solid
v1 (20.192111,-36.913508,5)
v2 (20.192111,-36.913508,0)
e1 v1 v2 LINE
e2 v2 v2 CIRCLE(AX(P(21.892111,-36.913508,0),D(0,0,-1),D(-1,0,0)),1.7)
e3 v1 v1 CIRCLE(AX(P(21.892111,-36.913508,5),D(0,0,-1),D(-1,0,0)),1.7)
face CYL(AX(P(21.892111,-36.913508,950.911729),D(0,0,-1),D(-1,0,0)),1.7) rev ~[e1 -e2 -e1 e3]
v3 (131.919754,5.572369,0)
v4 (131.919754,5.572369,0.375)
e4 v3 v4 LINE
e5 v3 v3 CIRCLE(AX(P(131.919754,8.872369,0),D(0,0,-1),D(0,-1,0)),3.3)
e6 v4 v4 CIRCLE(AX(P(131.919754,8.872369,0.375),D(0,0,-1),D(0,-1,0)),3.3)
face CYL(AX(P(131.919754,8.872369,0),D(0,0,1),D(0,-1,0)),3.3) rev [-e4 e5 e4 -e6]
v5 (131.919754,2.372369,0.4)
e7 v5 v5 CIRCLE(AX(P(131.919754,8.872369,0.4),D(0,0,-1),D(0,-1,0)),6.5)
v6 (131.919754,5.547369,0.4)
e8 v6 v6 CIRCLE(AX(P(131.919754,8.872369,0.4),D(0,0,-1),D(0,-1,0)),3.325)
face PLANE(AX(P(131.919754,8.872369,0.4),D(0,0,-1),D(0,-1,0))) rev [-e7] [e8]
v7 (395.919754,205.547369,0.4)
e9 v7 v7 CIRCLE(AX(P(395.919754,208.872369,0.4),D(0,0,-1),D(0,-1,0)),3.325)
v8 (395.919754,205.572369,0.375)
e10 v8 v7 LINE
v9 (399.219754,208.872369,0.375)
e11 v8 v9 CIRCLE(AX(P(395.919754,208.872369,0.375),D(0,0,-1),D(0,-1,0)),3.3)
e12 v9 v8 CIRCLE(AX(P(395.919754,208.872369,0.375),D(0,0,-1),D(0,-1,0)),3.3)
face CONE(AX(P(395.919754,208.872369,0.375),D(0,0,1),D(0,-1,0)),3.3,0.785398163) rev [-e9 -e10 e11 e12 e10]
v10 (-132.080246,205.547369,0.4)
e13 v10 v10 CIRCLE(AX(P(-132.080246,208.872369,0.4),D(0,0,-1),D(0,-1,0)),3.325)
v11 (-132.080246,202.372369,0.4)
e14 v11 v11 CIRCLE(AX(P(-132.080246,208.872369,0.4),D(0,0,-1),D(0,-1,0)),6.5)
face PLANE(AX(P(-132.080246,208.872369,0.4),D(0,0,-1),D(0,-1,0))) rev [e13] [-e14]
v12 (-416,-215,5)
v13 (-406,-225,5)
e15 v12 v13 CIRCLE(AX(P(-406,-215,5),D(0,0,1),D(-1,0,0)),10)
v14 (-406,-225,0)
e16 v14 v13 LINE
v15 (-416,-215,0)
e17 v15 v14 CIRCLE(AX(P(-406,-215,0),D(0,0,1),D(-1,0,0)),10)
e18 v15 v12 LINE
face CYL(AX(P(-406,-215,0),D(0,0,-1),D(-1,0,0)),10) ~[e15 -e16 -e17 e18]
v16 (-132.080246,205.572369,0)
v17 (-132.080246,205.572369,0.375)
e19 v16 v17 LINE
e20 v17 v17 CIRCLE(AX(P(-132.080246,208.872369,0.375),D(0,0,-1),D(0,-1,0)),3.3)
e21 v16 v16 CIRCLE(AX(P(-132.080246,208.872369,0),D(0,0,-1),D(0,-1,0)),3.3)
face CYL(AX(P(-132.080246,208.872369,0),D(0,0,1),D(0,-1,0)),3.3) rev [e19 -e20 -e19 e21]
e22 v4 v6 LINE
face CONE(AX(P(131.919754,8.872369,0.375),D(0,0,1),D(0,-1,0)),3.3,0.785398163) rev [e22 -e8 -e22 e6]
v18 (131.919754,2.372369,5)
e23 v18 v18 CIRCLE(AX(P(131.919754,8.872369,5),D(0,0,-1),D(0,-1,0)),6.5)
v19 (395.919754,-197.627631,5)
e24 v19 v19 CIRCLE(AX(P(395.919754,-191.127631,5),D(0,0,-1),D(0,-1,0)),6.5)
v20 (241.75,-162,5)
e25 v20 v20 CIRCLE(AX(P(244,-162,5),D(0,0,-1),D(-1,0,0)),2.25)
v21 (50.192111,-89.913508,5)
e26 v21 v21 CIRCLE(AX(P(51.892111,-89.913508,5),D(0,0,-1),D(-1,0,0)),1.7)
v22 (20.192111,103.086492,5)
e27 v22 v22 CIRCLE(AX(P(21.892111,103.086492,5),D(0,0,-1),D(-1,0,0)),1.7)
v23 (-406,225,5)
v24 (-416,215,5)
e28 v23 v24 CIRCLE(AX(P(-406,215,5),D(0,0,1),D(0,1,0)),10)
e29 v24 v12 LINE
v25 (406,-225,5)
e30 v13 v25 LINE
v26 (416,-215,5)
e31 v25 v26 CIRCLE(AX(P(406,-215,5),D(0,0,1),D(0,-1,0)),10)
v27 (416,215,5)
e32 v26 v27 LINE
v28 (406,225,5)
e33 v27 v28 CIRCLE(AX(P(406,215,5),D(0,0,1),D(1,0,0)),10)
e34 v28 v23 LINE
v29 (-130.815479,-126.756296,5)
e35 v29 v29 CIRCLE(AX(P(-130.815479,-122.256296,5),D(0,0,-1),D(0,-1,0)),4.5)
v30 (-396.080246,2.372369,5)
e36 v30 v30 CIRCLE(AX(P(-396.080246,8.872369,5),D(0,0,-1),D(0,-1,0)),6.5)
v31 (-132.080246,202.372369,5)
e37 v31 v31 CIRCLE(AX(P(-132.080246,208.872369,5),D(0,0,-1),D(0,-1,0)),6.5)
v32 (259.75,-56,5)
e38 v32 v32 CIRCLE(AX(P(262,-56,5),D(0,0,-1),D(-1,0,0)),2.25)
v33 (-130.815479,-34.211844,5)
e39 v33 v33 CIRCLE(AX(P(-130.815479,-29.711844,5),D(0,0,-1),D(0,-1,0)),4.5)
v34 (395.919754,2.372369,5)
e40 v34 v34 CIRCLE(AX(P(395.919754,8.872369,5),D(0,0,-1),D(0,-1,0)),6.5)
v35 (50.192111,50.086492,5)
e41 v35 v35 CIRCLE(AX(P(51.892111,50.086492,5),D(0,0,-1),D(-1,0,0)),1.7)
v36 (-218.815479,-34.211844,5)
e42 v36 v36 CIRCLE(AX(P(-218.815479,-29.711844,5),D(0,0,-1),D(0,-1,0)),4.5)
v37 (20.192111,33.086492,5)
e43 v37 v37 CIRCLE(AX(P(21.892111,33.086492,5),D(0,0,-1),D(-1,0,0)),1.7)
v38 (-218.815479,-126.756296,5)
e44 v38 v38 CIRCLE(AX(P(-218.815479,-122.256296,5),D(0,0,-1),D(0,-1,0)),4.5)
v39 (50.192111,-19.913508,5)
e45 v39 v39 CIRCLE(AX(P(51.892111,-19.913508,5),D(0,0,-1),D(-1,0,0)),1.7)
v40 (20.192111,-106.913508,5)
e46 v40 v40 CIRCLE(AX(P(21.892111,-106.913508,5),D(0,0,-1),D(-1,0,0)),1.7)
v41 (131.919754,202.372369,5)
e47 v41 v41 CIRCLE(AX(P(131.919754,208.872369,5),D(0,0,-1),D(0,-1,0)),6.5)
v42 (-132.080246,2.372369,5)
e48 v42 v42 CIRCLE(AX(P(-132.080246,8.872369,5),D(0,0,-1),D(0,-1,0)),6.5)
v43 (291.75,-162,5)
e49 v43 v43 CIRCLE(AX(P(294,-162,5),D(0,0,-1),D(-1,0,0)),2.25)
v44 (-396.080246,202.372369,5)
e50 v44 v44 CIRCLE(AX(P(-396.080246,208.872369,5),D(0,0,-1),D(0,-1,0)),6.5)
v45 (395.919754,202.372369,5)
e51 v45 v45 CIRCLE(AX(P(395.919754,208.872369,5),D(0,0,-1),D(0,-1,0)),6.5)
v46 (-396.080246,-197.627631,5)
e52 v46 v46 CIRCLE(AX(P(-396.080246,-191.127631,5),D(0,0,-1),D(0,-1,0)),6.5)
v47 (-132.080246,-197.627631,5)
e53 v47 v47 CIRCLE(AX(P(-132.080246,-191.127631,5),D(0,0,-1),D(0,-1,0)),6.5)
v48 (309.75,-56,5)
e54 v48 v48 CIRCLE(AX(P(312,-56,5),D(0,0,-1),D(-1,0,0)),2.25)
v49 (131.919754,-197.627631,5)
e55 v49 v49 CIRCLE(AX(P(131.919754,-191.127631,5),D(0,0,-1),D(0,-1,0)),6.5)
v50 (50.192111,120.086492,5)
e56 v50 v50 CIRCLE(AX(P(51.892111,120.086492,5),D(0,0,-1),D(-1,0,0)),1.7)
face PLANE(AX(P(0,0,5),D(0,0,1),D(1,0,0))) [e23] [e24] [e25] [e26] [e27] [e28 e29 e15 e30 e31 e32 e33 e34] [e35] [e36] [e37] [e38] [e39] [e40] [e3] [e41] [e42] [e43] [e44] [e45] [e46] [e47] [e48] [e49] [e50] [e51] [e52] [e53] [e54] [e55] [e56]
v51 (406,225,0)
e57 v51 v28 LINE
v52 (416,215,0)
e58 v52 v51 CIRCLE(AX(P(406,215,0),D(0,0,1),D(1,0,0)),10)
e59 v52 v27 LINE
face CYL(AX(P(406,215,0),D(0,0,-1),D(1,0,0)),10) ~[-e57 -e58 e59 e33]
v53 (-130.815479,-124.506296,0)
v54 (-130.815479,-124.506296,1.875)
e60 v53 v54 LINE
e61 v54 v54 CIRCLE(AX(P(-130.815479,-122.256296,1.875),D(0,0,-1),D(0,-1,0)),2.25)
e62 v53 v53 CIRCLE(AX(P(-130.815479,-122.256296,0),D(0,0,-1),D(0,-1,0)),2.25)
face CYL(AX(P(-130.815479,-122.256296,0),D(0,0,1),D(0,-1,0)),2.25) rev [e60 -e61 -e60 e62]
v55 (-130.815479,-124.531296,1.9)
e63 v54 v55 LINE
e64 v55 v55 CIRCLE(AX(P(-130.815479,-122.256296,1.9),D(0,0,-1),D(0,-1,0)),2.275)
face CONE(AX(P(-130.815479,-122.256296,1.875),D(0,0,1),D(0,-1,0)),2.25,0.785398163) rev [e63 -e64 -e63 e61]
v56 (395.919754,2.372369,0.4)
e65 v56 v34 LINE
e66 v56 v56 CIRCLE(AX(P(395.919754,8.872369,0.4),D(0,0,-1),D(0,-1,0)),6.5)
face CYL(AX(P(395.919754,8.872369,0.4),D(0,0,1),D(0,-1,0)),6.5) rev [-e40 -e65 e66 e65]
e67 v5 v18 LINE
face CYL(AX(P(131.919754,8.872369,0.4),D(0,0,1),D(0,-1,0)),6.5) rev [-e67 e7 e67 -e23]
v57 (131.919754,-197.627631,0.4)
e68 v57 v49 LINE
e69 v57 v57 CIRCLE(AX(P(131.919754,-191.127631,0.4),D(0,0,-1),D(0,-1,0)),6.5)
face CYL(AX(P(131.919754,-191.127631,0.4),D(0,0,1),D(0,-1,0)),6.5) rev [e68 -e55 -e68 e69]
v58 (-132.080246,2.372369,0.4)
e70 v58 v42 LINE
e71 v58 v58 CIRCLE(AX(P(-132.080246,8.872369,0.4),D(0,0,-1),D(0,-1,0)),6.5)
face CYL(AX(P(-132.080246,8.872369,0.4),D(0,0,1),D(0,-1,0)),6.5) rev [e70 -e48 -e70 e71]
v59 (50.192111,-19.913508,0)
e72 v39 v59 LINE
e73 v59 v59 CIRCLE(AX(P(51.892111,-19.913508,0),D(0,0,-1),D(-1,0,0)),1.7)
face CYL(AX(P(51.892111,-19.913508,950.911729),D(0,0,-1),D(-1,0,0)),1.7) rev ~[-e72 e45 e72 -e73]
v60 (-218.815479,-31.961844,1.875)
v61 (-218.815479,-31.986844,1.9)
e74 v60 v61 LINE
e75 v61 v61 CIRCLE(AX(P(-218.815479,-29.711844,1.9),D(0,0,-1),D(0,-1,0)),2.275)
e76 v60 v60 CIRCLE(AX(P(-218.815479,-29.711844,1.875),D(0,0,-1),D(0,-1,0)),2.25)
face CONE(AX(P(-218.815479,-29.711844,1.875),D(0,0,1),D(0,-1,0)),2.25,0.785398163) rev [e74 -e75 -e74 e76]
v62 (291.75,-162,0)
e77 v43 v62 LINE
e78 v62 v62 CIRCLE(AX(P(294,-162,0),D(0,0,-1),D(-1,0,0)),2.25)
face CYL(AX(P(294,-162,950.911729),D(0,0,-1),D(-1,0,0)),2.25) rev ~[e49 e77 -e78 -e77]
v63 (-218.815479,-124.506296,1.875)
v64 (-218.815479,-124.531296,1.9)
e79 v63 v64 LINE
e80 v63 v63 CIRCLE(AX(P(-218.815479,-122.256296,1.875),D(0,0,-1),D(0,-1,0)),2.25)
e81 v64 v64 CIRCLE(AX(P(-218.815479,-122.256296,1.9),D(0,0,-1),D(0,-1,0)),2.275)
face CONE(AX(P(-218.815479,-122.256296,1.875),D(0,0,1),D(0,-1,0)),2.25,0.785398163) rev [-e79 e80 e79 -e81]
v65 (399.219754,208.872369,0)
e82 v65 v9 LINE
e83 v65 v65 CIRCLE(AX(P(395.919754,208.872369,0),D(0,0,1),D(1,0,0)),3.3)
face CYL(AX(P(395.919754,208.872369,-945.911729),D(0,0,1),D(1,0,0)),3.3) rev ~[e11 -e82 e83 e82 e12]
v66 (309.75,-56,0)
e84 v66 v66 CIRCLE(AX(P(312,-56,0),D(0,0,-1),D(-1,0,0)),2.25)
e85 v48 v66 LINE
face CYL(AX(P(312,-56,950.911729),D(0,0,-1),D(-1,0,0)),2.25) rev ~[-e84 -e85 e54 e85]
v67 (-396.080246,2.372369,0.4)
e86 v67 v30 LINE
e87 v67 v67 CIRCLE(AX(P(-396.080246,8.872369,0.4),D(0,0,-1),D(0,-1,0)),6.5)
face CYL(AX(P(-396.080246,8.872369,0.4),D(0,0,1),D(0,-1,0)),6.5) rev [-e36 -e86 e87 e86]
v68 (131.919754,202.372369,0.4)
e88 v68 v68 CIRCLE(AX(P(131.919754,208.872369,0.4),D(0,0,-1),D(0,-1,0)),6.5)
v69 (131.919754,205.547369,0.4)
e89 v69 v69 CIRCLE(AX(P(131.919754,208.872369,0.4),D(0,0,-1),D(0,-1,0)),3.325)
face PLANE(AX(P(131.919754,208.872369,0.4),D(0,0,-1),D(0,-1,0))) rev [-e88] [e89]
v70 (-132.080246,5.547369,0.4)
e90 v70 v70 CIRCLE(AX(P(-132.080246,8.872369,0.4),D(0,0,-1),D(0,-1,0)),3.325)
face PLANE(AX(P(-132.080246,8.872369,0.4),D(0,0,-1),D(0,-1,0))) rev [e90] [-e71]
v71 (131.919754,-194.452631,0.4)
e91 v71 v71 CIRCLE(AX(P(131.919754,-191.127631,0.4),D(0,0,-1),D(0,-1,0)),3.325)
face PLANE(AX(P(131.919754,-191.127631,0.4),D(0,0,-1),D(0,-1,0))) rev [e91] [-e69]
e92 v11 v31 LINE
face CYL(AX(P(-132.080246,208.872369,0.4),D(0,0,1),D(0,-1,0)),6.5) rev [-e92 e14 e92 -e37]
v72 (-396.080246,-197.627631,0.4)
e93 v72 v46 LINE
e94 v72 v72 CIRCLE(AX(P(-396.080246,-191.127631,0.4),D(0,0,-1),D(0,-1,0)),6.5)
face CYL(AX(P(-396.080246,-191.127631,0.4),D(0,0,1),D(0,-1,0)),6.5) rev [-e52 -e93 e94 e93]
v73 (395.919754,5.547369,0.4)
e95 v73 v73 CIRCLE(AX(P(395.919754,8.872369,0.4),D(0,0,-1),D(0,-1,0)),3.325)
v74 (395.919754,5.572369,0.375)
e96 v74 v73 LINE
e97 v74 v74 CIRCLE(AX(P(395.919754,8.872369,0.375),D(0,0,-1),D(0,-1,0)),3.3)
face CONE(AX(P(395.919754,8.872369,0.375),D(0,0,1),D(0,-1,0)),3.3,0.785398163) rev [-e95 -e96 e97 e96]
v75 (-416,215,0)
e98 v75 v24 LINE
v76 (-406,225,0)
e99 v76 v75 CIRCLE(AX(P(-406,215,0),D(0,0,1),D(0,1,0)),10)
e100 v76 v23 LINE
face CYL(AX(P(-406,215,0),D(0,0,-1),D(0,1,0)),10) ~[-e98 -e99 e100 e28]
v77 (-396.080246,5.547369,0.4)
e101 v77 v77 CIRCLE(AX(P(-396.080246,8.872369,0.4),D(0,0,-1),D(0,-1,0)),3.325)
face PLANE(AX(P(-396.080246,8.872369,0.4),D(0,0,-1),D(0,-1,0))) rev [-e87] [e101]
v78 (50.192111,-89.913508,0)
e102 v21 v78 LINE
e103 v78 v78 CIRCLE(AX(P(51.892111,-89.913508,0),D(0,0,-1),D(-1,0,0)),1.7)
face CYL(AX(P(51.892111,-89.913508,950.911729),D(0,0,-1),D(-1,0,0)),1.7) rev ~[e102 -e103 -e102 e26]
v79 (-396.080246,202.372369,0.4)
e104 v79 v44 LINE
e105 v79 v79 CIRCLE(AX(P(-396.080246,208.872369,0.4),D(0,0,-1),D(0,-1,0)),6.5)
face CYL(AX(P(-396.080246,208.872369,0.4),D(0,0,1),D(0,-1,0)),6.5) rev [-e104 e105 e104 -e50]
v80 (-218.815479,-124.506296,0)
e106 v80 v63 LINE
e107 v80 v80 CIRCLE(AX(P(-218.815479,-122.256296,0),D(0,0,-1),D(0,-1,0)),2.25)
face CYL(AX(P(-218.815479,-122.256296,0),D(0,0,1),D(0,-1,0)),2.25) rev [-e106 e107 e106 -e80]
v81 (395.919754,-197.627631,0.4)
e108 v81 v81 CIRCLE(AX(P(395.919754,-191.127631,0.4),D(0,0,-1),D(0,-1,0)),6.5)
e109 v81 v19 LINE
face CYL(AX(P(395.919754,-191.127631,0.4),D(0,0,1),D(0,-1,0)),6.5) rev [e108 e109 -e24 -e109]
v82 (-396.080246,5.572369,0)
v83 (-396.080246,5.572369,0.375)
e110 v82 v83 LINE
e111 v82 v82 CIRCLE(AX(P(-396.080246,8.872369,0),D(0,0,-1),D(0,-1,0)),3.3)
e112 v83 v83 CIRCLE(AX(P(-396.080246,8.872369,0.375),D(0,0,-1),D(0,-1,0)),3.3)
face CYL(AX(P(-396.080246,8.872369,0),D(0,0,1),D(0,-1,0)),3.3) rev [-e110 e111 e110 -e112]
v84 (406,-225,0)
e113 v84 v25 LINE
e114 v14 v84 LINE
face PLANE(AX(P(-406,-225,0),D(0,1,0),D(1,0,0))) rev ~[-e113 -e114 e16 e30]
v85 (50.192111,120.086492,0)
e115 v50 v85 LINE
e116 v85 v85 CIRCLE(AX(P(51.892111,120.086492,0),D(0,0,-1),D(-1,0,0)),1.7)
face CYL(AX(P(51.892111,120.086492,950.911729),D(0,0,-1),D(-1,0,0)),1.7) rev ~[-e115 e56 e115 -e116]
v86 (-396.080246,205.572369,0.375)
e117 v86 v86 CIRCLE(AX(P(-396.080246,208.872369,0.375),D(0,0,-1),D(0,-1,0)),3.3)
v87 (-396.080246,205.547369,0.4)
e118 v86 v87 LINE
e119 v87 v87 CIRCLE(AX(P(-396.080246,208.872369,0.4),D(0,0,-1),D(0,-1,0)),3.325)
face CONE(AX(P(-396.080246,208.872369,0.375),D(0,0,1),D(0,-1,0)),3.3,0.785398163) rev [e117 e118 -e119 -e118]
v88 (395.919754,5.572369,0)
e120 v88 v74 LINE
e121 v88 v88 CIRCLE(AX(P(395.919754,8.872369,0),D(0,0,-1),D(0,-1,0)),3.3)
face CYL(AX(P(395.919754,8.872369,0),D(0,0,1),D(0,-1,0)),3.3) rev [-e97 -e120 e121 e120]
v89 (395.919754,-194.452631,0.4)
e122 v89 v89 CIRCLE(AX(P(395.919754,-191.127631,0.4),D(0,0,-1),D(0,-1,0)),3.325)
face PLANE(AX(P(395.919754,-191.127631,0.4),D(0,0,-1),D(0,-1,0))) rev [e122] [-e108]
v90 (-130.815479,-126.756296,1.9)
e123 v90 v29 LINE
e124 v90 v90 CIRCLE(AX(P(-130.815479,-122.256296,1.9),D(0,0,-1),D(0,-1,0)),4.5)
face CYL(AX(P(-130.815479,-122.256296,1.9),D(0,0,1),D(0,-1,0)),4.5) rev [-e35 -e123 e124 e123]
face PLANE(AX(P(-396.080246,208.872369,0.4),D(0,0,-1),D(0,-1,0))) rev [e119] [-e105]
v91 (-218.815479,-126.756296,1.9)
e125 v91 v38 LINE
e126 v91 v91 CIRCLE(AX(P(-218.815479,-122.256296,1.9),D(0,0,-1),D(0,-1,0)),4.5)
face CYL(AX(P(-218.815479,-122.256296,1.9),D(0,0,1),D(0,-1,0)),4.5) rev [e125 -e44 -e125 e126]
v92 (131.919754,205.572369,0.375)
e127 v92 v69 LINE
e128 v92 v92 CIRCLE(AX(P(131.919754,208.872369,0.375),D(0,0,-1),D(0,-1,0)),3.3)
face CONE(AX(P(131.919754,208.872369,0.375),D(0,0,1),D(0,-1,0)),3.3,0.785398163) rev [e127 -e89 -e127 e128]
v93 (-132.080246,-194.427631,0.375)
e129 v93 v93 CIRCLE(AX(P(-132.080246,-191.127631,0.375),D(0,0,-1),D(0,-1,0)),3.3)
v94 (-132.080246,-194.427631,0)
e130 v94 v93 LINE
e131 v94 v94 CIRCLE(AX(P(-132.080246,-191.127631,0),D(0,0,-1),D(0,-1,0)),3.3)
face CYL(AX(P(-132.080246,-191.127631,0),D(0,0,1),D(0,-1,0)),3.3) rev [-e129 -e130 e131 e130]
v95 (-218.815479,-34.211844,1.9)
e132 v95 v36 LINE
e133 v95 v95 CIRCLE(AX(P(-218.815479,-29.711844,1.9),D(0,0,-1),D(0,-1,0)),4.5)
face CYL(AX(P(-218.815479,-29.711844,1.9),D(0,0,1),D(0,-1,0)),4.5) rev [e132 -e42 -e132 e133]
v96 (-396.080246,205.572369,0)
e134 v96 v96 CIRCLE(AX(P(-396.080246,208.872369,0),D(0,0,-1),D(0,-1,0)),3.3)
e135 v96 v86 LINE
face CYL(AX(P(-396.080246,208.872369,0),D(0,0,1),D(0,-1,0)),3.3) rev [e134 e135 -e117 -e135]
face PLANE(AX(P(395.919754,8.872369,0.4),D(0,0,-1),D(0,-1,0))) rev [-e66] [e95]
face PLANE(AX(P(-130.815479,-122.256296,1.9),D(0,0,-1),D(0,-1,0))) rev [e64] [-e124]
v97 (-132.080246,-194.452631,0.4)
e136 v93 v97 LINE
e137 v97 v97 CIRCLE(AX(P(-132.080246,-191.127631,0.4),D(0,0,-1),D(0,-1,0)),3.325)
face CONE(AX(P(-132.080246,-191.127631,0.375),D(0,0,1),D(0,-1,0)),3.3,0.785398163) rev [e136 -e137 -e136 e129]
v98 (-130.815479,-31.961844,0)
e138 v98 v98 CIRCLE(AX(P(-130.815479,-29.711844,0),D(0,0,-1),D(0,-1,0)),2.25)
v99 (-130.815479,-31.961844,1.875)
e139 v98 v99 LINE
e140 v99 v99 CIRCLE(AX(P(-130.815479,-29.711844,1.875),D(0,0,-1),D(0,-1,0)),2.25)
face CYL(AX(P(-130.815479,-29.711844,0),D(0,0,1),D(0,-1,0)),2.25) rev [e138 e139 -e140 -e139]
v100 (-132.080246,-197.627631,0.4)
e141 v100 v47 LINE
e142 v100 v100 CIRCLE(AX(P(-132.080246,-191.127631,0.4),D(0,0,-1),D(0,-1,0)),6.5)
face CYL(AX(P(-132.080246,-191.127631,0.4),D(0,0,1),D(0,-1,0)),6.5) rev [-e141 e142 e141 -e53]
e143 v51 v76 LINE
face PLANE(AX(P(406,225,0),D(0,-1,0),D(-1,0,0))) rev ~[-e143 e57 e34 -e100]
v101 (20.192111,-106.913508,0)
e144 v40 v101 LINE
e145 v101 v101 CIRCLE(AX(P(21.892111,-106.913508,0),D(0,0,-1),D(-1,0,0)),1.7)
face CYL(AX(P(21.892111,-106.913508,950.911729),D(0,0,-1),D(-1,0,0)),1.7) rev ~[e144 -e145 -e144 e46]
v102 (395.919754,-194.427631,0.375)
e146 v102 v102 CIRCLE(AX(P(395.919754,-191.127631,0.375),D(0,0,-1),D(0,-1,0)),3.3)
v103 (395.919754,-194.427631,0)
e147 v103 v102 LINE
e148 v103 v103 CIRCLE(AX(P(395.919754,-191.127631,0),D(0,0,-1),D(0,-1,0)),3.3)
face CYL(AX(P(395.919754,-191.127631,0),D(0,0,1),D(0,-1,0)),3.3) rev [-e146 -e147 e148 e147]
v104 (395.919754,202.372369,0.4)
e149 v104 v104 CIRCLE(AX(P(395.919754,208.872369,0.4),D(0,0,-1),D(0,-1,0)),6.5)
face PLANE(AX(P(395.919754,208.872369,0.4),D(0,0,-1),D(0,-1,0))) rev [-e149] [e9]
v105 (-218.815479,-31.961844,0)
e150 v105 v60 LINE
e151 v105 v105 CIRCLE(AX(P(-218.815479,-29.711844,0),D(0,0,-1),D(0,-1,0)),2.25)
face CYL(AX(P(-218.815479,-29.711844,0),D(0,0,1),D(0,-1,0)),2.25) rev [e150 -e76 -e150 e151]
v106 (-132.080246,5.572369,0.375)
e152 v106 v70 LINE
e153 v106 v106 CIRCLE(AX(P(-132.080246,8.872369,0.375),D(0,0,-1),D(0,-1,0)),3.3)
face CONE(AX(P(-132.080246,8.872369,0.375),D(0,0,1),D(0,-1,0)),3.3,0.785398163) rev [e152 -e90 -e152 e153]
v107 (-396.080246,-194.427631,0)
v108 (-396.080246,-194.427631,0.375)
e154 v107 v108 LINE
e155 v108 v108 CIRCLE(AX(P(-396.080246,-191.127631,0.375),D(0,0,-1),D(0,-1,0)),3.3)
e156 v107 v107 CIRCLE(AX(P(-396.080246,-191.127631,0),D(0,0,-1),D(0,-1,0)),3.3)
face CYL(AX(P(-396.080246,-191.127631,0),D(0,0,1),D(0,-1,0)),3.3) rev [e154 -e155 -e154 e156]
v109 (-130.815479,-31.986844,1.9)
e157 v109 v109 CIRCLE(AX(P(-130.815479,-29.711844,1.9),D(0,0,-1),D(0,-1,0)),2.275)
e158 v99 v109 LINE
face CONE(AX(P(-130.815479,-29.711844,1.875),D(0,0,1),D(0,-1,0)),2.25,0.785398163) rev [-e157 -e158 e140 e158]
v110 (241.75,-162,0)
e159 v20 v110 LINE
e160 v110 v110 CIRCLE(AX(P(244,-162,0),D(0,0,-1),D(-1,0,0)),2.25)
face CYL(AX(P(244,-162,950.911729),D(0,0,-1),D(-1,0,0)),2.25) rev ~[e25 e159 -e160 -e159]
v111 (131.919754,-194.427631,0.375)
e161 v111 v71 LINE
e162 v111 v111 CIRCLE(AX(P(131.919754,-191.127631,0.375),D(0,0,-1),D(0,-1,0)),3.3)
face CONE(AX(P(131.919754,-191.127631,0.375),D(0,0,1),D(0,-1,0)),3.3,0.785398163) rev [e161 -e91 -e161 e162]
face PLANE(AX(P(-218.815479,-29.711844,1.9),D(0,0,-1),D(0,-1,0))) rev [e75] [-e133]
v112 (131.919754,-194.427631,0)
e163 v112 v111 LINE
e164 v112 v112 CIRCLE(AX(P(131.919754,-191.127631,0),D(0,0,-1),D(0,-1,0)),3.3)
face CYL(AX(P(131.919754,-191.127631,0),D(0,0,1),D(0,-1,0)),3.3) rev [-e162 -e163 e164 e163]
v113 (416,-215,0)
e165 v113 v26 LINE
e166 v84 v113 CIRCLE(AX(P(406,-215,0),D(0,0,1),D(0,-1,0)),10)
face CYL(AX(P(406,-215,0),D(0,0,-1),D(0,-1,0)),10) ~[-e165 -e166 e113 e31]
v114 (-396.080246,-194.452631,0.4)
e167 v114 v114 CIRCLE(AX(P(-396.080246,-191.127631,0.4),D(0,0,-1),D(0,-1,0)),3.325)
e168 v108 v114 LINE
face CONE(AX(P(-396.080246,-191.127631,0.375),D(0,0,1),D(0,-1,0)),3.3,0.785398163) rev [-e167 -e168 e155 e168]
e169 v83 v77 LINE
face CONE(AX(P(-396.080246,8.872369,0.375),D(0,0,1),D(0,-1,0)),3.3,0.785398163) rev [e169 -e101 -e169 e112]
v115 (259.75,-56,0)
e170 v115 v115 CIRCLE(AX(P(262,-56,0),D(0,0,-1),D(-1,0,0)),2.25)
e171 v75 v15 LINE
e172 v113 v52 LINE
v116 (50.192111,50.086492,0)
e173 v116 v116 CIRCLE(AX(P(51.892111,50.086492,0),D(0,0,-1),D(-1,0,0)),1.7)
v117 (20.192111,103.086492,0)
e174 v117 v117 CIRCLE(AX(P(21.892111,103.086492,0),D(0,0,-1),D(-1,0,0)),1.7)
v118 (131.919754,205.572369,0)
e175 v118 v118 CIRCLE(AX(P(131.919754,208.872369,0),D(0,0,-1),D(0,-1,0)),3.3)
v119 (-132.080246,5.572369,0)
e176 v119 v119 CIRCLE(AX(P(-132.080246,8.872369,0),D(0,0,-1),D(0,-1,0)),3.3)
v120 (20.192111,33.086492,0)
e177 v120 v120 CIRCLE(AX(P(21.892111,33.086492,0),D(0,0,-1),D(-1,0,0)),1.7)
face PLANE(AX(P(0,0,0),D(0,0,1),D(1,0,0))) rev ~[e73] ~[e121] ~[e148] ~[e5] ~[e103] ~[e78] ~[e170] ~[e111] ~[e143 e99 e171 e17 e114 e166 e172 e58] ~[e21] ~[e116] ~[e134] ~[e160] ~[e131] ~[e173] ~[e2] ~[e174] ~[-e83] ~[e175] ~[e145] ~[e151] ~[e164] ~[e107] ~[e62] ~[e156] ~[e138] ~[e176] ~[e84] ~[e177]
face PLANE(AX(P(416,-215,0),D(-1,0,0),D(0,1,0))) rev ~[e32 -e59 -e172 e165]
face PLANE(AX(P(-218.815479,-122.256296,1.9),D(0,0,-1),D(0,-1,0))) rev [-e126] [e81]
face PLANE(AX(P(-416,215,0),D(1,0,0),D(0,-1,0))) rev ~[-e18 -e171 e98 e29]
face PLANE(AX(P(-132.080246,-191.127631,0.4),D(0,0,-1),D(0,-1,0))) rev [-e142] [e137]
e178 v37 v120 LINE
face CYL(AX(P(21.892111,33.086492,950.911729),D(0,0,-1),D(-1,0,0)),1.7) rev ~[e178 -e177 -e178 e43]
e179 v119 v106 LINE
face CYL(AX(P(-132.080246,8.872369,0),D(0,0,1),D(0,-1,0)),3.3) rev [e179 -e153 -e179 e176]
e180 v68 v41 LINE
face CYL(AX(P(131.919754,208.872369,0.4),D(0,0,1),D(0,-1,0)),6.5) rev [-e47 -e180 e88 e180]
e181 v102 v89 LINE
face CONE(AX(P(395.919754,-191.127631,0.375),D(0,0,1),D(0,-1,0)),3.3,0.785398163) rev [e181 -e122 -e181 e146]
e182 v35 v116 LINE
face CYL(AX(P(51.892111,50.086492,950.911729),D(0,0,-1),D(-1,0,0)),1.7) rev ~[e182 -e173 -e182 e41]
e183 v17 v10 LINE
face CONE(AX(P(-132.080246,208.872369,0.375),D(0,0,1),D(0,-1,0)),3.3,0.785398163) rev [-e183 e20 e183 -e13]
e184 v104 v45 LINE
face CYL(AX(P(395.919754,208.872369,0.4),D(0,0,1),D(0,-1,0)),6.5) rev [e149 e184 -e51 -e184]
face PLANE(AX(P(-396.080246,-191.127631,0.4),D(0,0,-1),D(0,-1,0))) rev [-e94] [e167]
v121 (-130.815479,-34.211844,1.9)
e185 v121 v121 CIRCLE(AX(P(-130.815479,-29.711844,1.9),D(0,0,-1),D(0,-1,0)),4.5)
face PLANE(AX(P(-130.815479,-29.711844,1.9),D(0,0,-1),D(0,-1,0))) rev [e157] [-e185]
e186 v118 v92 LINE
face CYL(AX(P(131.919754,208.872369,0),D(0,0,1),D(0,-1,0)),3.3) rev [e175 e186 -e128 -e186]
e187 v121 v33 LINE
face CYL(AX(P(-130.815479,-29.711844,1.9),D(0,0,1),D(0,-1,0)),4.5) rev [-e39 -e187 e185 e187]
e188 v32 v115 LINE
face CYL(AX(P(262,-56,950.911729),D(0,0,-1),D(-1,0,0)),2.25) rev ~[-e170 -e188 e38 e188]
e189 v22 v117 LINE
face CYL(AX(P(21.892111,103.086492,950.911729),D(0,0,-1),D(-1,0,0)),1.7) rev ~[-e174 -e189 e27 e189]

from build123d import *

# Parameters (mm, degrees)
BOSS_EXTRU_1_DEPTH                           = 5
D_GAGEMENT_M61_D                             = 6.6
R_P_TITION_LIN_AIRE1_COUNT                   = 5
R_P_TITION_LIN_AIRE1_PITCH                   = 100
R_P_TITION_LIN_AIRE1_COUNT_DIR2              = 4
R_P_TITION_LIN_AIRE1_PITCH_DIR2              = 264
CHAMBRAGE_POUR_VIS_T_TE_RONDE_BOMB_2_A_COUNT = 2
CHAMBRAGE_POUR_VIS_T_TE_RONDE_BOMB_2_A_PITCH = 92.544451502
R_P_TITION_LIN_AIRE3_COUNT                   = 2
R_P_TITION_LIN_AIRE3_PITCH                   = 88
M3_CLEARANCE_HOLE1_D                         = 3.4
LPATTERN1_COUNT                              = 4
LPATTERN1_PITCH                              = 70
M4_CLEARANCE_HOLE1_D                         = 4.5


with BuildPart() as part:
    # Esquisse1 → Boss.-Extru.1 (new body)
    with BuildSketch(Plane.XY):
        with BuildLine():
            Line((-406, -225), (406, -225))
            ThreePointArc((406, -225), (413.071067812, -222.071067812), (416, -215))
            Line((416, -215), (416, 215))
            ThreePointArc((416, 215), (413.071067812, 222.071067812), (406, 225))
            Line((406, 225), (-406, 225))
            ThreePointArc((-406, 225), (-413.071067812, 222.071067812), (-416, 215))
            Line((-416, 215), (-416, -215))
            ThreePointArc((-416, -215), (-413.071067812, -222.071067812), (-406, -225))
        make_face()
    extrude(amount=BOSS_EXTRU_1_DEPTH)

    # Dégagement M61 (through all)
    with Locations(Plane(origin=(0, 0, 0), x_dir=(-1, 0, 0), z_dir=(0, 0, -1))):
        with Locations((-395.919753935, 208.872368656)):
            Hole(D_GAGEMENT_M61_D / 2)

    # Esquisse4 → Chambrage pour vis _ t_te ronde bomb_e M (revolve, cut)
    with BuildSketch(Plane(origin=(395.919753935, 208.872368656, 5), x_dir=(0, -1, 0), z_dir=(1, 0, 0))):
        Polygon((0, 0), (0, 5), (3.3, 5), (3.3, 4.625), (3.325, 4.6), (6.5, 4.6), (6.5, 0), align=None)
    chambrage_pour_vis_t_te_ronde_bomb_e_m = revolve(axis=Axis((395.919753935, 208.872368656, 11.35), (0, 0, -1)), mode=Mode.SUBTRACT)

    # Répétition linéaire1: Chambrage pour vis _ t_te ronde bomb_e M 5 × 4, 8 skipped
    with Locations(*[(-j * R_P_TITION_LIN_AIRE1_PITCH_DIR2, -i * R_P_TITION_LIN_AIRE1_PITCH, 0) for i in range(R_P_TITION_LIN_AIRE1_COUNT) for j in range(R_P_TITION_LIN_AIRE1_COUNT_DIR2) if (i, j) not in ((0, 0), (1, 0), (1, 1), (1, 2), (1, 3), (3, 0), (3, 1), (3, 2), (3, 3))]):
        add(chambrage_pour_vis_t_te_ronde_bomb_e_m, mode=Mode.SUBTRACT)

    # Esquisse9 → Chambrage pour vis _ t_te ronde bomb 2 (revolve, cut)
    with BuildSketch(Plane(origin=(-130.81547906, -122.256295557, 5), x_dir=(0, -1, 0), z_dir=(1, 0, 0))):
        Polygon((0, 0), (0, 5), (2.25, 5), (2.25, 3.125), (2.275, 3.1), (4.5, 3.1), (4.5, 0), align=None)
    chambrage_pour_vis_t_te_ronde_bomb_2 = revolve(axis=Axis((-130.81547906, -122.256295557, 11.35), (0, 0, -1)), mode=Mode.SUBTRACT)

    # Chambrage pour vis _ t_te ronde bomb 2 a: Chambrage pour vis _ t_te ronde bomb 2 ×2
    with Locations(*[(0, i * CHAMBRAGE_POUR_VIS_T_TE_RONDE_BOMB_2_A_PITCH, 0) for i in range(1, CHAMBRAGE_POUR_VIS_T_TE_RONDE_BOMB_2_A_COUNT)]):
        add(chambrage_pour_vis_t_te_ronde_bomb_2, mode=Mode.SUBTRACT)

    # Répétition linéaire3: Chambrage pour vis _ t_te ronde bomb 2 ×2
    with Locations(*[(-i * R_P_TITION_LIN_AIRE3_PITCH, 0, 0) for i in range(1, R_P_TITION_LIN_AIRE3_COUNT)]):
        add(chambrage_pour_vis_t_te_ronde_bomb_2, mode=Mode.SUBTRACT)

    # Répétition linéaire3 copy 1 sketch → Répétition linéaire3 copy 1 (revolve, cut)
    with BuildSketch(Plane(origin=(-218.81547906, -29.711844055, 5), x_dir=(0, -1, 0), z_dir=(1, 0, 0))):
        Polygon((0, 0), (0, 5), (2.25, 5), (2.25, 3.125), (2.275, 3.1), (4.5, 3.1), (4.5, 0), align=None)
    revolve(axis=Axis((-218.81547906, -29.711844055, 11.35), (0, 0, -1)), mode=Mode.SUBTRACT)

    # M3 Clearance Hole1 (through all)
    with Locations(Plane.XY.offset(5)):
        with Locations((21.892110814, -106.913508058), (51.892110814, -89.913508058)):
            m3_clearance_hole1 = Hole(M3_CLEARANCE_HOLE1_D / 2)

    # LPattern1: M3 Clearance Hole1 ×4
    with Locations(*[(0, i * LPATTERN1_PITCH, 0) for i in range(1, LPATTERN1_COUNT)]):
        add(m3_clearance_hole1, mode=Mode.SUBTRACT)

    # M4 Clearance Hole1 (through all)
    with Locations(Plane.XY.offset(5)):
        with Locations((294, -162), (244, -162), (312, -56), (262, -56)):
            Hole(M4_CLEARANCE_HOLE1_D / 2)


solid = part.part
